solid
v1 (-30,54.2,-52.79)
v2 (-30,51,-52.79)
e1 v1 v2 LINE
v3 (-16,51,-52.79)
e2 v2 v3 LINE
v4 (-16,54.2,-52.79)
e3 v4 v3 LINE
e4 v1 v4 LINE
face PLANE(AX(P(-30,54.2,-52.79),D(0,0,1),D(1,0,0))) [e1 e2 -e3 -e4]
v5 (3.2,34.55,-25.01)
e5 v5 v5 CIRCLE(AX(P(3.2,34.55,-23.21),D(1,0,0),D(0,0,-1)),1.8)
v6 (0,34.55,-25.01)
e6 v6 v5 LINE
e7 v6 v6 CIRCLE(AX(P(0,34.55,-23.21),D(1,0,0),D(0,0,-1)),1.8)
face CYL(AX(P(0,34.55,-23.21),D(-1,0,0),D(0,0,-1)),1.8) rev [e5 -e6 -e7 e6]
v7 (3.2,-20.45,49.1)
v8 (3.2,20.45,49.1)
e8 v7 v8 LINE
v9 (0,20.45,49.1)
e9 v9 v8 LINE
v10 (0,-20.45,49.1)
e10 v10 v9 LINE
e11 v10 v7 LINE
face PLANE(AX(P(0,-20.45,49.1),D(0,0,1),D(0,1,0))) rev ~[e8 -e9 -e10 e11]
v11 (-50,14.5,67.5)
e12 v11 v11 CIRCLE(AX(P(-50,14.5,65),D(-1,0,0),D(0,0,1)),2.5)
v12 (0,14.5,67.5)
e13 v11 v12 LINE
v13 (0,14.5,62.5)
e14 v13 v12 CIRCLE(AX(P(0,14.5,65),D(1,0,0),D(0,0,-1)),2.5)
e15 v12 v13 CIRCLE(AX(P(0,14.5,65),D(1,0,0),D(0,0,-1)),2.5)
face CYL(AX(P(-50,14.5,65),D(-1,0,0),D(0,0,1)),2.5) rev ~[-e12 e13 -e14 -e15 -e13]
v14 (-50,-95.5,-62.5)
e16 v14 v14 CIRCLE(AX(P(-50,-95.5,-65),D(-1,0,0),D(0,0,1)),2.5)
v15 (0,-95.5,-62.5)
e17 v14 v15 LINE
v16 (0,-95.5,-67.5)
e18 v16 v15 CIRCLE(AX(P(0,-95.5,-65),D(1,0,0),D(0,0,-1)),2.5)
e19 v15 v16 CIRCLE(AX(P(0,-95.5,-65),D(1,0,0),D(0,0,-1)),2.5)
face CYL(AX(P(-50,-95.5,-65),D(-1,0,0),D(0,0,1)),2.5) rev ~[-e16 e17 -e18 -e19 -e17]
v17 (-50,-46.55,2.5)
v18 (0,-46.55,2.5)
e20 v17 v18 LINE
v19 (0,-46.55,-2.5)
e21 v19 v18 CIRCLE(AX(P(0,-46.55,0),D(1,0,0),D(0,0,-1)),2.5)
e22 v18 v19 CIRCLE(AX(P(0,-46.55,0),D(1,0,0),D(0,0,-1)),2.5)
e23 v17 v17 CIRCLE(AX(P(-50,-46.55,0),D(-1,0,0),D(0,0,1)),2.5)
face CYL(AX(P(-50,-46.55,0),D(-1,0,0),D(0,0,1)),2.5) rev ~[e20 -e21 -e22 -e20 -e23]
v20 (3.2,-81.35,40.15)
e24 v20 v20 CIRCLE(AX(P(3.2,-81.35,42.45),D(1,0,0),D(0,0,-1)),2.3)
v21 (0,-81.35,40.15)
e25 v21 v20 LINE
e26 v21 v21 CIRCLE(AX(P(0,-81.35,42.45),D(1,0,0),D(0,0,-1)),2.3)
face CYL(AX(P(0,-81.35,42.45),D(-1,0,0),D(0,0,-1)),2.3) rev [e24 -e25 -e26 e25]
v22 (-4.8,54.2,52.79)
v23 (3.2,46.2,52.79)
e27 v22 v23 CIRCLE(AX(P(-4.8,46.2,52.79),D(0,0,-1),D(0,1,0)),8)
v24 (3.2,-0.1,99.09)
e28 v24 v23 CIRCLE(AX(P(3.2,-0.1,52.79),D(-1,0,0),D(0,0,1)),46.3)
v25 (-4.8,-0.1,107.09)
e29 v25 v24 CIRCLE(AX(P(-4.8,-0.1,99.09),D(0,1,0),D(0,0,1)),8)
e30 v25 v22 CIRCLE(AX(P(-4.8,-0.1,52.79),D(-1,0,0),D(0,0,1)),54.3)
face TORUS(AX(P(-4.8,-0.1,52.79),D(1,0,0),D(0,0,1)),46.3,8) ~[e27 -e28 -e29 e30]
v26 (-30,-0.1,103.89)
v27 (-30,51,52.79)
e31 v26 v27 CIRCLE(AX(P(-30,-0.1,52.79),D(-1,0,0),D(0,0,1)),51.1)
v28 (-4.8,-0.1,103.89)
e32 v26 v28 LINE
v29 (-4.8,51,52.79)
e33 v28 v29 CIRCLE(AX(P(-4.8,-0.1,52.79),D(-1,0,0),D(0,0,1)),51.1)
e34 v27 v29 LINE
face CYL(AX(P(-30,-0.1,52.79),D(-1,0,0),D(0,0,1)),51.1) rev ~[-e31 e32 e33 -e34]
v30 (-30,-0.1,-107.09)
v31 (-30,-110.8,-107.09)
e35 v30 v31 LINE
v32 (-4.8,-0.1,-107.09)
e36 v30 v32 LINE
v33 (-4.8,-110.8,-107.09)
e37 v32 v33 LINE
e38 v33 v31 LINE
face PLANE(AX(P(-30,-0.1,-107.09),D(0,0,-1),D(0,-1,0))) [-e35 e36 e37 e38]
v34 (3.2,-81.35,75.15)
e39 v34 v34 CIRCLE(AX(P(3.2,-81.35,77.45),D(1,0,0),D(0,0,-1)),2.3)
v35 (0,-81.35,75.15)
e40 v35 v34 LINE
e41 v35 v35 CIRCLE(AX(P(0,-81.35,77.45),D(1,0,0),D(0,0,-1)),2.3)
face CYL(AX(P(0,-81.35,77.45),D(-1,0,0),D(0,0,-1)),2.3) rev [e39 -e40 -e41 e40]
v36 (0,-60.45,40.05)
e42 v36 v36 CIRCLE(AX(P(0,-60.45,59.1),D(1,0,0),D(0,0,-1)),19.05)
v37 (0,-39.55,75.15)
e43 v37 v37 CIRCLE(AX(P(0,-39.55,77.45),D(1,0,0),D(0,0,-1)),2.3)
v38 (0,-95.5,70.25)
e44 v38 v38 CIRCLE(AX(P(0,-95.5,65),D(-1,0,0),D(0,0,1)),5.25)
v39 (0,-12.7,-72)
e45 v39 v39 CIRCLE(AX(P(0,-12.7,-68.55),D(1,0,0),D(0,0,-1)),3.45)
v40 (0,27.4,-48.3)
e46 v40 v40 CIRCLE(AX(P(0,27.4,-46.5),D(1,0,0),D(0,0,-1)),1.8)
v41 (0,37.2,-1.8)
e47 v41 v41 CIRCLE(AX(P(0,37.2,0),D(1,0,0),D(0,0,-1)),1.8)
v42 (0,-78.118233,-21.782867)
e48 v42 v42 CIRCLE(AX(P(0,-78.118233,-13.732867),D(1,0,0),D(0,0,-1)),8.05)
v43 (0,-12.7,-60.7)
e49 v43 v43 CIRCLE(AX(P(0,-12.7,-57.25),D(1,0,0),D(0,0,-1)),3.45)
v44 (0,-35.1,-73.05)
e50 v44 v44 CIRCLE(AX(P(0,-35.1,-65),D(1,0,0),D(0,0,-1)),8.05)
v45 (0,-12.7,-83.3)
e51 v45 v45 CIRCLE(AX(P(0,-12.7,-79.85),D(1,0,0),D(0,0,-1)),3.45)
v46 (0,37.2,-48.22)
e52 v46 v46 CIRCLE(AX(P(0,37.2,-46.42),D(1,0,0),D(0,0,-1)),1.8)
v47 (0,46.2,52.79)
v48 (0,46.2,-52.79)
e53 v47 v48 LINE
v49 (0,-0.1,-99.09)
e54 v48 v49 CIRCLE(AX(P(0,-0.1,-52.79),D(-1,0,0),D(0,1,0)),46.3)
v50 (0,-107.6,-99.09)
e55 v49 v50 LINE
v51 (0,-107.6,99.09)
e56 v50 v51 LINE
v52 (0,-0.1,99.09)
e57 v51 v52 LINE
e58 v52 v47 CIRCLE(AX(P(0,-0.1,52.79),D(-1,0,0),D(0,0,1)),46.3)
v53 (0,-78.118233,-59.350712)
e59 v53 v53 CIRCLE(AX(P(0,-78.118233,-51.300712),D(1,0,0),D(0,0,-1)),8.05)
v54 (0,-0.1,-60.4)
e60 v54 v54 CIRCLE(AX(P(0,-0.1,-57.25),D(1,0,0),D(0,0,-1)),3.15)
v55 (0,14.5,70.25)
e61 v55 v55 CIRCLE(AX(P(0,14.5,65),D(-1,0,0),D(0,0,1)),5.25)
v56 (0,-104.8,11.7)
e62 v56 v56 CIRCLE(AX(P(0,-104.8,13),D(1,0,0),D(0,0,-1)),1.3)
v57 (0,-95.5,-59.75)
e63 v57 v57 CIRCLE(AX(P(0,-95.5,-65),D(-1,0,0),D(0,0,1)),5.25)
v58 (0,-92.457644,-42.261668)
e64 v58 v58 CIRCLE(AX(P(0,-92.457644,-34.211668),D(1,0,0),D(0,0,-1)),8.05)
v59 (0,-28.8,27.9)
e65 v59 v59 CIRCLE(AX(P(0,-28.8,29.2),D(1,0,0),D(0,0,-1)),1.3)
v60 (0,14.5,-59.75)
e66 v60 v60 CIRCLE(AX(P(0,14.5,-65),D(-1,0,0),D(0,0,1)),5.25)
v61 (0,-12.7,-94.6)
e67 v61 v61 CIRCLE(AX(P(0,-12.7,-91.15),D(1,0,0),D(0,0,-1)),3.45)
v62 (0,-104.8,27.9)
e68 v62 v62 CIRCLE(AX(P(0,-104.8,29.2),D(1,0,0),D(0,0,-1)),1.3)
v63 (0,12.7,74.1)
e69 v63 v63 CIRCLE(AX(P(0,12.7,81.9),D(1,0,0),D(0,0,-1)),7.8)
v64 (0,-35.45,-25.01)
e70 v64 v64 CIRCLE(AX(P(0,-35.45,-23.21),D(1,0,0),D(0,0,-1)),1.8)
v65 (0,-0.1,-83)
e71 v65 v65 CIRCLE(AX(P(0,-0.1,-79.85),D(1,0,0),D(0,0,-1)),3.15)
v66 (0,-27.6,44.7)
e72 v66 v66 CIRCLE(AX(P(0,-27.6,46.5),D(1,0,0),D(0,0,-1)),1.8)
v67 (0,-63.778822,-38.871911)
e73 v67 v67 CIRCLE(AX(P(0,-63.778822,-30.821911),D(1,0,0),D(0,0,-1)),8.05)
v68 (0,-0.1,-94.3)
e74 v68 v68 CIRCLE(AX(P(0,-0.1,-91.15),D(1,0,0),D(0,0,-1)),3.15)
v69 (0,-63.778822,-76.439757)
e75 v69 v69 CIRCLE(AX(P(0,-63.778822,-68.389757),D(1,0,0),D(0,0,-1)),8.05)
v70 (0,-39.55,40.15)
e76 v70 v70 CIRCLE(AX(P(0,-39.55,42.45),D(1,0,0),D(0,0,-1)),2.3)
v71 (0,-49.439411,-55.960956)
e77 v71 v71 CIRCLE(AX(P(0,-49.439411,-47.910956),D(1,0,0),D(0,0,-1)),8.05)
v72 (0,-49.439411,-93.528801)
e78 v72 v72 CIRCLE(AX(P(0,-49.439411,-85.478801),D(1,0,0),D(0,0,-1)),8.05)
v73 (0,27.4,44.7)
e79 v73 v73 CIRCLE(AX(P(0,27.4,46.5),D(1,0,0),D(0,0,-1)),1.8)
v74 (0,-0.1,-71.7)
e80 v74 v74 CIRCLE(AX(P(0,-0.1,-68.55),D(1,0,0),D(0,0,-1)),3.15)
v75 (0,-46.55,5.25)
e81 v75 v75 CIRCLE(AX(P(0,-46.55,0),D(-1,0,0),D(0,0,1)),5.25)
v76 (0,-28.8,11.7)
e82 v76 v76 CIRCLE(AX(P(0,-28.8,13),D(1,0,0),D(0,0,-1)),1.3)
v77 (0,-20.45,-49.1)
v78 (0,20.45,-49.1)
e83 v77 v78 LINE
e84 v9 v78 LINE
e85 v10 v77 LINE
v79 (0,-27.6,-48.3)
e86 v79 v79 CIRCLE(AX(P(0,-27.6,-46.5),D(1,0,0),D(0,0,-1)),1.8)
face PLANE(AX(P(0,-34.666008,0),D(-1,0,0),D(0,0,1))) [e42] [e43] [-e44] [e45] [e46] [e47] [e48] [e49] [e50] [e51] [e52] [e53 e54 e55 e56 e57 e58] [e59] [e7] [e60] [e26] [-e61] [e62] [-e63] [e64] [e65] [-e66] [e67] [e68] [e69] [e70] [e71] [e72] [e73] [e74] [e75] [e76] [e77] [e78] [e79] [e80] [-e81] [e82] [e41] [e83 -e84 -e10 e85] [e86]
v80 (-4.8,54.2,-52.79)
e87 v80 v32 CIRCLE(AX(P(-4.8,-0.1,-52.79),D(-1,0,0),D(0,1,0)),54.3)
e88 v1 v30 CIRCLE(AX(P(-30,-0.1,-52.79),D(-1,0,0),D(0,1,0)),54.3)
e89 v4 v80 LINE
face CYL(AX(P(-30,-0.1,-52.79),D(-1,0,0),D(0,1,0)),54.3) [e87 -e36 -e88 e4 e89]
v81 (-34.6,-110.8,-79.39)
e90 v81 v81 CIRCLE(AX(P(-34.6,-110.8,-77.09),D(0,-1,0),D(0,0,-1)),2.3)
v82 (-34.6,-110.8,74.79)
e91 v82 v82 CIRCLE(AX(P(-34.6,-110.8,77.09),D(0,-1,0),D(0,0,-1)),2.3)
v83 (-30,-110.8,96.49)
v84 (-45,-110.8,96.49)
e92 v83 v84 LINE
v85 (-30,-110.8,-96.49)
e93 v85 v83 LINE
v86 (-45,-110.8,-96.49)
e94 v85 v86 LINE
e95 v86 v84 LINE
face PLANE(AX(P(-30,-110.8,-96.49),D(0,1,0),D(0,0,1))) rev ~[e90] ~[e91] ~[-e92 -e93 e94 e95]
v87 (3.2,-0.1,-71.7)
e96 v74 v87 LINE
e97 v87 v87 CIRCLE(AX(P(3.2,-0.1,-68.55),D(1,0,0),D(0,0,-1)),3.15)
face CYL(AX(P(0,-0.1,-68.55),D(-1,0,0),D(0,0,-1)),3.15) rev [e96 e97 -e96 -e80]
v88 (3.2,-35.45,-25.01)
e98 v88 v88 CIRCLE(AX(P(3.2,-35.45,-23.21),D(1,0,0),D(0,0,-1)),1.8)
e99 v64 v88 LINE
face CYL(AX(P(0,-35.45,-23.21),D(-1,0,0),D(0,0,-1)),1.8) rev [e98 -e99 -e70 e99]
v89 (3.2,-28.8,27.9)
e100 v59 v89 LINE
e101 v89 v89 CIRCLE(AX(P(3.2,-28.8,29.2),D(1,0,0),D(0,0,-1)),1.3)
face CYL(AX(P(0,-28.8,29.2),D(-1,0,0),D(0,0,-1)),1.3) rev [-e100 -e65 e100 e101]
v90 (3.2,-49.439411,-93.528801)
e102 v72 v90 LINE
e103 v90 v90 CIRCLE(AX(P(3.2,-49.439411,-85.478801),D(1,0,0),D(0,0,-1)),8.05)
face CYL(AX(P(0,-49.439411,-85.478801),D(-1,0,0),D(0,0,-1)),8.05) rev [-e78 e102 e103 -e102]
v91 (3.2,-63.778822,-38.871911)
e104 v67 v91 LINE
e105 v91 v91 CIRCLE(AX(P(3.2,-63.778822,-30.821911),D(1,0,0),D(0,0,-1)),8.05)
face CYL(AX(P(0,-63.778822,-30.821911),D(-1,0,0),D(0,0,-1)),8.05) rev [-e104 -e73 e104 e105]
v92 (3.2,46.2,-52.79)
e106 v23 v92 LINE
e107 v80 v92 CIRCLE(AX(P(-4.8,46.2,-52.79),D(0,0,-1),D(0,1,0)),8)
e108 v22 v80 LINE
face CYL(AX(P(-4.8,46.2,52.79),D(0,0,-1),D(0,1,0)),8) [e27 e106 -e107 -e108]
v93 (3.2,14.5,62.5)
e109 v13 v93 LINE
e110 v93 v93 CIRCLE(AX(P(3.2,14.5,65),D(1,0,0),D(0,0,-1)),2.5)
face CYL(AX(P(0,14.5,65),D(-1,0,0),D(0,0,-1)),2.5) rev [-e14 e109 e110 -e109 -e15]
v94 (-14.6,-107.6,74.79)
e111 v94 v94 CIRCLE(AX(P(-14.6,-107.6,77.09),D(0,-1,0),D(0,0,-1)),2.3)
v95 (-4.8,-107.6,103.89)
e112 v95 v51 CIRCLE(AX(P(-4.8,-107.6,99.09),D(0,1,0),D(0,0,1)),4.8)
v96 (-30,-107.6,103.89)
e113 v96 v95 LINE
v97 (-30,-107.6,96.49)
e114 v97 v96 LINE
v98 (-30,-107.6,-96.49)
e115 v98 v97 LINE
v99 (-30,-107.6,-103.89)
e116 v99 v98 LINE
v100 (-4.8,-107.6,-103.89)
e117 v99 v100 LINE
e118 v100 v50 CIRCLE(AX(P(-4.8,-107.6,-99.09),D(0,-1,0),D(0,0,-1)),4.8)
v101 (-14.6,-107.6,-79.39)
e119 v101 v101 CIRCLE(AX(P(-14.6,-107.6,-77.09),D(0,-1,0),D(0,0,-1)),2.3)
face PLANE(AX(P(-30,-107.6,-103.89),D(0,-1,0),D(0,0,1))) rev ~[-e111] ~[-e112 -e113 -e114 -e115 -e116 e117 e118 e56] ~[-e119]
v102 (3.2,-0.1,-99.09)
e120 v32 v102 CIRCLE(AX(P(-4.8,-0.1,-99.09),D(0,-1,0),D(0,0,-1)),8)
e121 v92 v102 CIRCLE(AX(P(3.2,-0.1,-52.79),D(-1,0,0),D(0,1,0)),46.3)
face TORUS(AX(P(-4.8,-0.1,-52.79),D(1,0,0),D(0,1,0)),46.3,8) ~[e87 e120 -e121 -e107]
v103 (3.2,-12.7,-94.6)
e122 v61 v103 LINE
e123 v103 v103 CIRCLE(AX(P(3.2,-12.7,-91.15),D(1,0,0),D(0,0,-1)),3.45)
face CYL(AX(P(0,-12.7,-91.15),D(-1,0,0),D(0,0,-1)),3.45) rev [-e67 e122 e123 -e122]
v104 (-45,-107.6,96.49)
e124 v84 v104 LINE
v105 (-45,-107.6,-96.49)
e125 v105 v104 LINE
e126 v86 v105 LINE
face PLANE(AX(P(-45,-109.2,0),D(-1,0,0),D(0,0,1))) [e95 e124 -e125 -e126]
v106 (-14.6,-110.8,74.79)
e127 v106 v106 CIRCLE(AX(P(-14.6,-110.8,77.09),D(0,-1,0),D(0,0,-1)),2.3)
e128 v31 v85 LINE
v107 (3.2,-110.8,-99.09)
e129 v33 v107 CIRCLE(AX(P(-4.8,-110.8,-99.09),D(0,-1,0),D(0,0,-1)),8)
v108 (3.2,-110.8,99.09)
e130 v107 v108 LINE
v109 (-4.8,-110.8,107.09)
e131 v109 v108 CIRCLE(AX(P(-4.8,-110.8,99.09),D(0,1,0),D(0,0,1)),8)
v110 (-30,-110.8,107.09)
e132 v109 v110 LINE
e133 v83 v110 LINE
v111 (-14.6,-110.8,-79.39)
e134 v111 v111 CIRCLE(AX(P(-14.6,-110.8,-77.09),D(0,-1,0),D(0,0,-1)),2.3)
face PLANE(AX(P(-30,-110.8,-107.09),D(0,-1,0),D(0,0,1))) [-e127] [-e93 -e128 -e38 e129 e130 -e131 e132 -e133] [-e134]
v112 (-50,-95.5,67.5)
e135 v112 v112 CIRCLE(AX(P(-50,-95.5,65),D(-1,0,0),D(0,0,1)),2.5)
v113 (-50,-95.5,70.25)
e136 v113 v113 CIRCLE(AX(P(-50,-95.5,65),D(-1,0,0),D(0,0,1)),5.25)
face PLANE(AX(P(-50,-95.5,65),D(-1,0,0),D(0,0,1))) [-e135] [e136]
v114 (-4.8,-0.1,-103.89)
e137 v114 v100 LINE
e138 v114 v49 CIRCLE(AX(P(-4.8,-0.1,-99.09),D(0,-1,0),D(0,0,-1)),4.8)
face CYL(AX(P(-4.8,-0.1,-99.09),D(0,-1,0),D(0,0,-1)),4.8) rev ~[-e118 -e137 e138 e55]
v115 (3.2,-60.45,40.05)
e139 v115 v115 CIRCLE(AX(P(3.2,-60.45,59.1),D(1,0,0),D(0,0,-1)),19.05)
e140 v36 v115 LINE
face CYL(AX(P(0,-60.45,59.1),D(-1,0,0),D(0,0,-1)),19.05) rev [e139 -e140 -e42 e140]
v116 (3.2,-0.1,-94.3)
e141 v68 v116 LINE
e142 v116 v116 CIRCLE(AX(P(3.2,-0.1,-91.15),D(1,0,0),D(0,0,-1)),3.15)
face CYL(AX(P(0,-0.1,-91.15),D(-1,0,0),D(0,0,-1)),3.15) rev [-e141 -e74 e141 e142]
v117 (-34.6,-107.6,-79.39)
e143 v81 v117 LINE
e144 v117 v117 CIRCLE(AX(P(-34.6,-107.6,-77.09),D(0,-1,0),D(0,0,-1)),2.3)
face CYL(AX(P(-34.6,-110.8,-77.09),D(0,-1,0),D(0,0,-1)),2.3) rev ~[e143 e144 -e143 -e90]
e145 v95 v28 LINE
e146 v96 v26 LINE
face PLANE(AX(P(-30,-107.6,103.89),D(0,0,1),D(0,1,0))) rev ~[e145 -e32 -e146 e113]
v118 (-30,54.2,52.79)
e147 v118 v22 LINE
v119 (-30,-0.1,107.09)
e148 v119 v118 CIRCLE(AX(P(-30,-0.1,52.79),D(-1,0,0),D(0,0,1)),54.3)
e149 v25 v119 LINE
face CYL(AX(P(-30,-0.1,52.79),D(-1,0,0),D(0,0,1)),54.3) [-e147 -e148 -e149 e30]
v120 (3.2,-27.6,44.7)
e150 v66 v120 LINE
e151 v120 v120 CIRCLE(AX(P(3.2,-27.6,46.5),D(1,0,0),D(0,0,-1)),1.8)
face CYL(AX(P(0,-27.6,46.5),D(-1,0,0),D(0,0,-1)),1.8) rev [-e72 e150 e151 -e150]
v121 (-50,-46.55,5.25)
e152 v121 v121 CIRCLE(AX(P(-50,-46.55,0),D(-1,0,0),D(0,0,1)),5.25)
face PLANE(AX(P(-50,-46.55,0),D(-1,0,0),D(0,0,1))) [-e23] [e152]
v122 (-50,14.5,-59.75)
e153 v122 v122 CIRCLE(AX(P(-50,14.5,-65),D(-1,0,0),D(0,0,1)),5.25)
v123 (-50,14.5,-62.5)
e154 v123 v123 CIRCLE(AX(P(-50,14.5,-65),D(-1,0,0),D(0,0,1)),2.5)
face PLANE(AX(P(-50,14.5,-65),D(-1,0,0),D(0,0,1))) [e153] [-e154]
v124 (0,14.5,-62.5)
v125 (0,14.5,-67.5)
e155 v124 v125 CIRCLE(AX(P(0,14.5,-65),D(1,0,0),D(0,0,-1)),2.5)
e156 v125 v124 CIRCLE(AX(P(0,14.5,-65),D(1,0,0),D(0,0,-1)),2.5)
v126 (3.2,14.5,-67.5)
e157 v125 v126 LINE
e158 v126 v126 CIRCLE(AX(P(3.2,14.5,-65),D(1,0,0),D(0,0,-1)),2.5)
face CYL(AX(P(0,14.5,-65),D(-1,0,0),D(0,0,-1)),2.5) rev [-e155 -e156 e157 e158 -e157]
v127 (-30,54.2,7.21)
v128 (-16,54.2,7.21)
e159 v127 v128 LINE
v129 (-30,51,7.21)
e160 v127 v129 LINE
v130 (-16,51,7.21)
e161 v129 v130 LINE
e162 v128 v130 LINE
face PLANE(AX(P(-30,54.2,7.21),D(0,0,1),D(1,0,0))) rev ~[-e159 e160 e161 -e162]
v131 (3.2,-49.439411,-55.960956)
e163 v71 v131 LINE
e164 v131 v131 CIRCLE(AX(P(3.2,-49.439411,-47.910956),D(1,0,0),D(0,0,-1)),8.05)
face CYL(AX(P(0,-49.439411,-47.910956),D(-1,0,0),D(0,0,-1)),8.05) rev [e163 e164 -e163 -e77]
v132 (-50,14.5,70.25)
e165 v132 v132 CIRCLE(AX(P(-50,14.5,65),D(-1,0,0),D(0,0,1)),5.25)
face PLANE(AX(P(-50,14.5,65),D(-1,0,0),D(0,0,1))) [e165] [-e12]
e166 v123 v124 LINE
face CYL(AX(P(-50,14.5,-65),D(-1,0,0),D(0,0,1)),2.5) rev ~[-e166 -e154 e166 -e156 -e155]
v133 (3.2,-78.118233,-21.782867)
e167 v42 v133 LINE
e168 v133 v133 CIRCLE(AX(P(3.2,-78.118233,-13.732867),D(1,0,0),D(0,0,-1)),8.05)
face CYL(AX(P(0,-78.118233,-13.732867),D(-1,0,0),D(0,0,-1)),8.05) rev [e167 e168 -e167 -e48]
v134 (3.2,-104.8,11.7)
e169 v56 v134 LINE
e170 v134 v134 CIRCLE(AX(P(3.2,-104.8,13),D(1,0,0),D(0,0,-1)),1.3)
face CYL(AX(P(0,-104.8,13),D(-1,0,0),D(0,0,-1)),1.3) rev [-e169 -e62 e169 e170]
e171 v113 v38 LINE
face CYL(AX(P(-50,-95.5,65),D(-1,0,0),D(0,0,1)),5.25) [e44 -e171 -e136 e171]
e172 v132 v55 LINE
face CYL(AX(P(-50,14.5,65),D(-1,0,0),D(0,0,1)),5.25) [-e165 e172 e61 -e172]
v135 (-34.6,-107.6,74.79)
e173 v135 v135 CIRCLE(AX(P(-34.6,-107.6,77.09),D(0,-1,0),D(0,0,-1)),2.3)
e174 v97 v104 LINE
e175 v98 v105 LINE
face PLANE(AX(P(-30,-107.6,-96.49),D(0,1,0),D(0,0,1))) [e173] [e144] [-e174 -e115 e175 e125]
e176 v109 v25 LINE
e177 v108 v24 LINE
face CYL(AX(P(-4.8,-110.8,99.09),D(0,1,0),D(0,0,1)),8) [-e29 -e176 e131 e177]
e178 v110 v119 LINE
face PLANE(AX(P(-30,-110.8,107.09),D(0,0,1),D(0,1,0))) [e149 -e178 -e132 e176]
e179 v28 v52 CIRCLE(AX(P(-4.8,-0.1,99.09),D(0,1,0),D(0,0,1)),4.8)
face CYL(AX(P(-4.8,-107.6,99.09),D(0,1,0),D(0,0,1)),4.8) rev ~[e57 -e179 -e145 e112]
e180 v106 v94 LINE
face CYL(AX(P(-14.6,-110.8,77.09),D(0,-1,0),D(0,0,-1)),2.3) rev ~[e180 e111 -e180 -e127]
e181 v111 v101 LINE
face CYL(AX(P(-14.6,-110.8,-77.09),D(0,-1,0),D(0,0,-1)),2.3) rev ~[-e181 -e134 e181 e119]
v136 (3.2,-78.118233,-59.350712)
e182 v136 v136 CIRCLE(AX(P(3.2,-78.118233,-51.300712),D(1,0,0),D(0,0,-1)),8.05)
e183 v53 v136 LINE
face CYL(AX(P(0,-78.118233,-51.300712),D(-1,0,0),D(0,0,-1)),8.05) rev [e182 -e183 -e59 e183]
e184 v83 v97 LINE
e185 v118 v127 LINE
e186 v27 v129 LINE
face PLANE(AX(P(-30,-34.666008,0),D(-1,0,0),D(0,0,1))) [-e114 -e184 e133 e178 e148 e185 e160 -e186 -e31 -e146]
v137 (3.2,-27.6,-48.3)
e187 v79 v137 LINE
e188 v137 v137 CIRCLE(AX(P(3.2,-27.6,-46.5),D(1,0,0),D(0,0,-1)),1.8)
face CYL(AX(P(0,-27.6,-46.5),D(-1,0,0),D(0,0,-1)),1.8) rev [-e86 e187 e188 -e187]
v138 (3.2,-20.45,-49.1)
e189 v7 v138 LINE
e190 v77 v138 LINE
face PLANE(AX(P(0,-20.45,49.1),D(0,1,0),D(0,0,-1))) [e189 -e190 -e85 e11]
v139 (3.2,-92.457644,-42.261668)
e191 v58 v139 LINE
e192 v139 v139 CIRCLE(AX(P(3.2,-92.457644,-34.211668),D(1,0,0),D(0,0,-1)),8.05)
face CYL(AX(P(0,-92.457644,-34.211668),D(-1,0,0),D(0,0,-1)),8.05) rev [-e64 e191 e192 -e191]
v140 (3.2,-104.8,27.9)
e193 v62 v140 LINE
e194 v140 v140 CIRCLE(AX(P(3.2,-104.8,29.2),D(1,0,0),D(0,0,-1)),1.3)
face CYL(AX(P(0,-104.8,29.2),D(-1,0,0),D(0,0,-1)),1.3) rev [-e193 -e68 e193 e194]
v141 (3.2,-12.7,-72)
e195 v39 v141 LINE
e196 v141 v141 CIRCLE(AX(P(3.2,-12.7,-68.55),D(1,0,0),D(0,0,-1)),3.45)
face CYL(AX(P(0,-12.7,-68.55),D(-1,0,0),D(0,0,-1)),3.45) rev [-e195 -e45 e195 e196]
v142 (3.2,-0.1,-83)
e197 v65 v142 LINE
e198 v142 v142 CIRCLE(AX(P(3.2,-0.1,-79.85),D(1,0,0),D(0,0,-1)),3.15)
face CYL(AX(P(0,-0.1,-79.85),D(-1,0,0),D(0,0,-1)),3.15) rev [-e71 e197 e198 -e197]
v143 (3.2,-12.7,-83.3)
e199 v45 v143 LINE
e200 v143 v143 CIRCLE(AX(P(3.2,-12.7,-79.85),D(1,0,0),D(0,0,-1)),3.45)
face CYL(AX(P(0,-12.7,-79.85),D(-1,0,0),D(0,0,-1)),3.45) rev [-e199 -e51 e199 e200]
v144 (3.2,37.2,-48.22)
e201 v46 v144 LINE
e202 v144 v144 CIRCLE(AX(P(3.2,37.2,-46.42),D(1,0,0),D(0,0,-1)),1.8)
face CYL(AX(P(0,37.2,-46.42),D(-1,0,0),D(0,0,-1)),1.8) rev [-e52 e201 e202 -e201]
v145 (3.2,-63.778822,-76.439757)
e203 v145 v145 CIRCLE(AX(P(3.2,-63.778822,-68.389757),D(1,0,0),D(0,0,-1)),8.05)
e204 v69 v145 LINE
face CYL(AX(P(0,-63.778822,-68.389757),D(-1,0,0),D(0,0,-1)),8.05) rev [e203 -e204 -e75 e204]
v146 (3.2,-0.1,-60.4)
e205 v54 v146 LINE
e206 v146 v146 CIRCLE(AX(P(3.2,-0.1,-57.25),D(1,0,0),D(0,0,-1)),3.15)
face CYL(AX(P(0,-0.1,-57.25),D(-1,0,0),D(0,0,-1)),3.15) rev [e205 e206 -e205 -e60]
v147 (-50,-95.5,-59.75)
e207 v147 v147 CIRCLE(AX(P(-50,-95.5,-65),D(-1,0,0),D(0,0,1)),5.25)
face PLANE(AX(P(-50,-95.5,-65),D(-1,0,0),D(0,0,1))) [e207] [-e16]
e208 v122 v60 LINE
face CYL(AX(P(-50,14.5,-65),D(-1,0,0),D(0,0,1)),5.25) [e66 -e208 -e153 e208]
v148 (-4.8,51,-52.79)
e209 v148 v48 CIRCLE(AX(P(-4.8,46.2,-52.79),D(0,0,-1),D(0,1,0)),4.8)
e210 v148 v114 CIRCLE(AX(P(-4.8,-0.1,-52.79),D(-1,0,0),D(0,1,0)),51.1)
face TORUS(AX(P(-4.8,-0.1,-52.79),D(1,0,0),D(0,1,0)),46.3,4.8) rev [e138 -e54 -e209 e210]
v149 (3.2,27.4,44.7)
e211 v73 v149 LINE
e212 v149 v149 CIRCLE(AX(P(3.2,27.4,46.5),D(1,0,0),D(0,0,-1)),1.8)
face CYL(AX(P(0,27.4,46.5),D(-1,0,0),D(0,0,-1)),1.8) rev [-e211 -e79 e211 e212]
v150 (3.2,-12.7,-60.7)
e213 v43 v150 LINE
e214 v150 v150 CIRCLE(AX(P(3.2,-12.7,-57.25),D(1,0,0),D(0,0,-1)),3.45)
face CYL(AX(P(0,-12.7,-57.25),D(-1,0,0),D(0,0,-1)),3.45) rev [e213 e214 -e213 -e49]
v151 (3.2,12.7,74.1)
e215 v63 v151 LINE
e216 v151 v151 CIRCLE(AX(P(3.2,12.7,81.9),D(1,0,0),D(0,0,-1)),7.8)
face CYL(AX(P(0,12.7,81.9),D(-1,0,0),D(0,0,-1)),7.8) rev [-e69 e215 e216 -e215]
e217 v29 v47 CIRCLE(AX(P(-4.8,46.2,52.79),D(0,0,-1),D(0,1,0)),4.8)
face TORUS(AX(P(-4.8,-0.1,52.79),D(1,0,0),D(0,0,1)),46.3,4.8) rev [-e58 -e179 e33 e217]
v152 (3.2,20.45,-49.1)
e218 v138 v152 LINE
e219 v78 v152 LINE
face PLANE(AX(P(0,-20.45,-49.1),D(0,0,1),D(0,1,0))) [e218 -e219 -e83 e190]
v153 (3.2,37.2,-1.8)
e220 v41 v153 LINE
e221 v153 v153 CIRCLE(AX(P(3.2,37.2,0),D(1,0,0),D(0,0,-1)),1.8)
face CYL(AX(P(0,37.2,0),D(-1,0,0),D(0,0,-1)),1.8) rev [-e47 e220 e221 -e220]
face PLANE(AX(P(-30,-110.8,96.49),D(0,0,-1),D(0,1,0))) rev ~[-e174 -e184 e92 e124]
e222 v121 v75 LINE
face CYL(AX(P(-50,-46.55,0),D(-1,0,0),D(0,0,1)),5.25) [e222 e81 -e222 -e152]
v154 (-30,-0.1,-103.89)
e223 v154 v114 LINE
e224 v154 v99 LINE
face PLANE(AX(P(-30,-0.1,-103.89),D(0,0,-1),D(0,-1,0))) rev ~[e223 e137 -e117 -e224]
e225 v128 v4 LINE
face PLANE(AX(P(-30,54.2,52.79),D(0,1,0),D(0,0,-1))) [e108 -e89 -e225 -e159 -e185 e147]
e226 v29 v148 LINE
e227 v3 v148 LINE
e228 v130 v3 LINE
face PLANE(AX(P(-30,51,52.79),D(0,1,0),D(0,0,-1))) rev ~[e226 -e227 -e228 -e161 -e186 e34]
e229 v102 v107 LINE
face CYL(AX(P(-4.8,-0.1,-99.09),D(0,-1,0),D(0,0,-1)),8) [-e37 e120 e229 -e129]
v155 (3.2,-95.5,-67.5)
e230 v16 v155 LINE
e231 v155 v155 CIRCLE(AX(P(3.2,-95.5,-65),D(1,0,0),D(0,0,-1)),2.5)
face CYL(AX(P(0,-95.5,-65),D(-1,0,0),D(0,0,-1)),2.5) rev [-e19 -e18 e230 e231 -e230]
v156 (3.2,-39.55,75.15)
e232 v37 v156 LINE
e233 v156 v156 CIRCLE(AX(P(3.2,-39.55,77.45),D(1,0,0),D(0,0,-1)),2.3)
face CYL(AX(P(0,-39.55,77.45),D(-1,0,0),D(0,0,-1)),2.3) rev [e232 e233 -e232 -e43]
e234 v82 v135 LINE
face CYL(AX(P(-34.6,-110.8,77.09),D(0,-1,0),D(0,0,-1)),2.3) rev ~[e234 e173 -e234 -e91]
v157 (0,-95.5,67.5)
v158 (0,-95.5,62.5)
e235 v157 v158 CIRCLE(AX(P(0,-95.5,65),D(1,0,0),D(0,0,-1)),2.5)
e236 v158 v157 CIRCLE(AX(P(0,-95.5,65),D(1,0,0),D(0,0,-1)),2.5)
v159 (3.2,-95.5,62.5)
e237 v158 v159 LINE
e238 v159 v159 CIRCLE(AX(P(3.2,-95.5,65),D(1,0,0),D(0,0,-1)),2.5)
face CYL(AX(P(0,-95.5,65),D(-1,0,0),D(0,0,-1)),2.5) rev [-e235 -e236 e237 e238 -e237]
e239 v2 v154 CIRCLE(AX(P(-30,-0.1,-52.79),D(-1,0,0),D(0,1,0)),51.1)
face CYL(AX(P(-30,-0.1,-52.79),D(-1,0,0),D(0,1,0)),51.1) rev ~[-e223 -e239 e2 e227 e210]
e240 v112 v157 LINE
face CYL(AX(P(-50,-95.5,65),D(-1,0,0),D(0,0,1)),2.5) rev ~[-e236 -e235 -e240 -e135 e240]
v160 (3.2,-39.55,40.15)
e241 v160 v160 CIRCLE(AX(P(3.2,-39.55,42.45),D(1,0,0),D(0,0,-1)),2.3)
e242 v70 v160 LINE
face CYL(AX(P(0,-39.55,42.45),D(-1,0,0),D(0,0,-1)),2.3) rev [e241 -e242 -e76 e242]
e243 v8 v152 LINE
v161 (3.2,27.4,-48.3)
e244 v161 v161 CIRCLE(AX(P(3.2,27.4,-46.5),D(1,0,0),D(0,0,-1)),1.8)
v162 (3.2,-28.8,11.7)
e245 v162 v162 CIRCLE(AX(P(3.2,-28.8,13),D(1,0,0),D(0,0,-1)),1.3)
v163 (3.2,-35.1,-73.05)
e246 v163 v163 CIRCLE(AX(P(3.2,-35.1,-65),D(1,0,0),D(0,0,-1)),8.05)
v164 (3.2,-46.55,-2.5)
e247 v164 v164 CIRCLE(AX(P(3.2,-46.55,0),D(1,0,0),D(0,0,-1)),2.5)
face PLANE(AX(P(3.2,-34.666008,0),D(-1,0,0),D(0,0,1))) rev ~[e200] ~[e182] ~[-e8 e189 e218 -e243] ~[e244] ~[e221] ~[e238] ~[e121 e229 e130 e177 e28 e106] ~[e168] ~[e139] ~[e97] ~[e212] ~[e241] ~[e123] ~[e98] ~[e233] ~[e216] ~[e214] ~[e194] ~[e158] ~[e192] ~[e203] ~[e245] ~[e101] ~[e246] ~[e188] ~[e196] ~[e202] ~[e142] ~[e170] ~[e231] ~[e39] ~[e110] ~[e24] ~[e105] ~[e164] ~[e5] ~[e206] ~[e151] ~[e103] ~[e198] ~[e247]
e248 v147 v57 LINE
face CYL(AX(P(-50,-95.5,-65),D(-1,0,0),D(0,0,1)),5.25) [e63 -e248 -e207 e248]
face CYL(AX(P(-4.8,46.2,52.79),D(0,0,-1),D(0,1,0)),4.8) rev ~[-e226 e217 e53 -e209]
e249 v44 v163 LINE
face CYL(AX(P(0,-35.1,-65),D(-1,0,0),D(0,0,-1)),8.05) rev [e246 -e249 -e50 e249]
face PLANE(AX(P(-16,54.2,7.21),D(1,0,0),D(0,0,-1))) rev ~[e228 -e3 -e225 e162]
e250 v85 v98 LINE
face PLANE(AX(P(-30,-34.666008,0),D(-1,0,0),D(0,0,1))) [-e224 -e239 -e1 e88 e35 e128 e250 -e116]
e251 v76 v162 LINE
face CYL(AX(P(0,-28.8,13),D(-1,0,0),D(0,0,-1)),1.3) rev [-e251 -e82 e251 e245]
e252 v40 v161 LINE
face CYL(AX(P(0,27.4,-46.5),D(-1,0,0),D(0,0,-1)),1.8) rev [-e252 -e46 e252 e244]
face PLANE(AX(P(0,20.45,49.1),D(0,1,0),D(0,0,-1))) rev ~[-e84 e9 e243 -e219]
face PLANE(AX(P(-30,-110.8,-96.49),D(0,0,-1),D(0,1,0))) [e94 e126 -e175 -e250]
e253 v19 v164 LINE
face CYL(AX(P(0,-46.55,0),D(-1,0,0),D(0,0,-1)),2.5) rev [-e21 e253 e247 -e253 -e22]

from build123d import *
from build123d.topology import SkipClean

# Parameters (mm, degrees)
SKETCH1_R           = 1.8
SKETCH1_R_2         = 3.15
SKETCH1_R_3         = 8.05
SKETCH1_R_4         = 2.3
SKETCH1_R_5         = 19.05
SKETCH1_R_6         = 2.5
SKETCH1_R_7         = 7.8
SKETCH1_R_8         = 1.3
SKETCH1_R_9         = 3.45
SKETCH1_W           = 98.2
SKETCH1_H           = 40.9
BOSS_EXTRUDE1_DEPTH = 3.2
BOSS_EXTRUDE2_START = 30
BOSS_EXTRUDE2_DEPTH = 30
FILLET1_R           = 4.8
FILLET2_R           = 8
BOSS_EXTRUDE3_START = 50
SKETCH6_R           = 5.25
SKETCH6_R_2         = 2.5
BOSS_EXTRUDE3_DEPTH = 50
SKETCH12_W          = 192.98
SKETCH12_H          = 3.2
BOSS_EXTRUDE7_DEPTH = 15
SKETCH8_R           = 2.3
CUT_EXTRUDE2_DEPTH  = 10
SKETCH19_W          = 14
SKETCH19_H          = 60
CUT_EXTRUDE7_DEPTH  = 10


with BuildPart() as part:
    # Sketch1 → Boss-Extrude1 (new body)
    with BuildSketch(Plane(origin=(0, 0, 0), x_dir=(0, 0, -1), z_dir=(1, 0, 0))):
        with BuildLine():
            Line((-52.79, 54.2), (52.79, 54.2))
            ThreePointArc((52.79, 54.2), (91.185898218, 38.295898218), (107.09, -0.1))
            Line((107.09, -0.1), (107.09, -110.8))
            Line((107.09, -110.8), (-107.09, -110.8))
            Line((-107.09, -110.8), (-107.09, -0.1))
            ThreePointArc((-107.09, -0.1), (-91.185898218, 38.295898218), (-52.79, 54.2))
        make_face()
        with Locations((46.5, 27.4)):
            Circle(SKETCH1_R, mode=Mode.SUBTRACT)
        with Locations((-46.5, -27.6)):
            Circle(SKETCH1_R, mode=Mode.SUBTRACT)
        with Locations((-46.5, 27.4)):
            Circle(SKETCH1_R, mode=Mode.SUBTRACT)
        with Locations((46.5, -27.6)):
            Circle(SKETCH1_R, mode=Mode.SUBTRACT)
        with Locations((57.25, -0.1)):
            Circle(SKETCH1_R_2, mode=Mode.SUBTRACT)
        with Locations((68.55, -0.1)):
            Circle(SKETCH1_R_2, mode=Mode.SUBTRACT)
        with Locations((79.85, -0.1)):
            Circle(SKETCH1_R_2, mode=Mode.SUBTRACT)
        with Locations((91.15, -0.1)):
            Circle(SKETCH1_R_2, mode=Mode.SUBTRACT)
        with Locations((65, -35.1)):
            Circle(SKETCH1_R_3, mode=Mode.SUBTRACT)
        with Locations((85.478801107, -49.439410909)):
            Circle(SKETCH1_R_3, mode=Mode.SUBTRACT)
        with Locations((68.389756641, -63.778821818)):
            Circle(SKETCH1_R_3, mode=Mode.SUBTRACT)
        with Locations((51.300712175, -78.118232726)):
            Circle(SKETCH1_R_3, mode=Mode.SUBTRACT)
        with Locations((34.211667709, -92.457643635)):
            Circle(SKETCH1_R_3, mode=Mode.SUBTRACT)
        with Locations((47.910955534, -49.439410909)):
            Circle(SKETCH1_R_3, mode=Mode.SUBTRACT)
        with Locations((30.821911068, -63.778821818)):
            Circle(SKETCH1_R_3, mode=Mode.SUBTRACT)
        with Locations((13.732866601, -78.118232726)):
            Circle(SKETCH1_R_3, mode=Mode.SUBTRACT)
        with Locations((-77.45, -81.35)):
            Circle(SKETCH1_R_4, mode=Mode.SUBTRACT)
        with Locations((-42.45, -81.35)):
            Circle(SKETCH1_R_4, mode=Mode.SUBTRACT)
        with Locations((-42.45, -39.55)):
            Circle(SKETCH1_R_4, mode=Mode.SUBTRACT)
        with Locations((-77.45, -39.55)):
            Circle(SKETCH1_R_4, mode=Mode.SUBTRACT)
        with Locations((-59.1, -60.45)):
            Circle(SKETCH1_R_5, mode=Mode.SUBTRACT)
        with Locations((-65, -95.5)):
            Circle(SKETCH1_R_6, mode=Mode.SUBTRACT)
        with Locations((65, -95.5)):
            Circle(SKETCH1_R_6, mode=Mode.SUBTRACT)
        with Locations((65, 14.5)):
            Circle(SKETCH1_R_6, mode=Mode.SUBTRACT)
        with Locations((-65, 14.5)):
            Circle(SKETCH1_R_6, mode=Mode.SUBTRACT)
        with Locations((-81.9, 12.7)):
            Circle(SKETCH1_R_7, mode=Mode.SUBTRACT)
        with Locations((0, -46.55)):
            Circle(SKETCH1_R_6, mode=Mode.SUBTRACT)
        with Locations((46.42, 37.2)):
            Circle(SKETCH1_R, mode=Mode.SUBTRACT)
        with Locations((0, 37.2)):
            Circle(SKETCH1_R, mode=Mode.SUBTRACT)
        with Locations((23.21, 34.55)):
            Circle(SKETCH1_R, mode=Mode.SUBTRACT)
        with Locations((23.21, -35.45)):
            Circle(SKETCH1_R, mode=Mode.SUBTRACT)
        with Locations((-29.2, -28.8)):
            Circle(SKETCH1_R_8, mode=Mode.SUBTRACT)
        with Locations((-13, -28.8)):
            Circle(SKETCH1_R_8, mode=Mode.SUBTRACT)
        with Locations((-13, -104.8)):
            Circle(SKETCH1_R_8, mode=Mode.SUBTRACT)
        with Locations((-29.2, -104.8)):
            Circle(SKETCH1_R_8, mode=Mode.SUBTRACT)
        with Locations((91.15, -12.7)):
            Circle(SKETCH1_R_9, mode=Mode.SUBTRACT)
        with Locations((79.85, -12.7)):
            Circle(SKETCH1_R_9, mode=Mode.SUBTRACT)
        with Locations((68.55, -12.7)):
            Circle(SKETCH1_R_9, mode=Mode.SUBTRACT)
        with Locations((57.25, -12.7)):
            Circle(SKETCH1_R_9, mode=Mode.SUBTRACT)
        Rectangle(SKETCH1_W, SKETCH1_H, mode=Mode.SUBTRACT)
    extrude(amount=BOSS_EXTRUDE1_DEPTH)

    # Sketch3 → Boss-Extrude2 (add)
    with BuildSketch(Plane.ZY.offset(BOSS_EXTRUDE2_START)):
        with BuildLine():
            Line((-107.09, -0.1), (-107.09, -110.8))
            Line((-107.09, -110.8), (107.09, -110.8))
            Line((107.09, -110.8), (107.09, -0.1))
            ThreePointArc((107.09, -0.1), (91.185898218, 38.295898218), (52.79, 54.2))
            Line((52.79, 54.2), (-52.79, 54.2))
            ThreePointArc((-52.79, 54.2), (-91.185898218, 38.295898218), (-107.09, -0.1))
        make_face()
        with BuildLine():
            Line((-103.89, -0.1), (-103.89, -107.6))
            Line((-103.89, -107.6), (103.89, -107.6))
            Line((103.89, -107.6), (103.89, -0.1))
            ThreePointArc((103.89, -0.1), (88.923156519, 36.033156519), (52.79, 51))
            Line((52.79, 51), (-52.79, 51))
            ThreePointArc((-52.79, 51), (-88.923156519, 36.033156519), (-103.89, -0.1))
        make_face(mode=Mode.SUBTRACT)
    extrude(amount=-BOSS_EXTRUDE2_DEPTH)

    # Fillet1
    fillet1_edges = [part.edges().sort_by_distance(p)[0] for p in [
        (0, 36.033156519, -88.923156519),
        (0, -53.85, -103.89),
        (0, -53.85, 103.89),
        (0, 36.033156519, 88.923156519),
        (0, 51, 0),
    ]]
    fillet(fillet1_edges, radius=FILLET1_R)

    # Fillet2
    fillet2_edges = [part.edges().sort_by_distance(p)[0] for p in [
        (3.2, 38.295898218, 91.185898218),
        (3.2, -55.45, 107.09),
        (3.2, -55.45, -107.09),
        (3.2, 38.295898218, -91.185898218),
        (3.2, 54.2, 0),
    ]]
    fillet(fillet2_edges, radius=FILLET2_R)

    # Sketch6 → Boss-Extrude3 (add)
    # profile 1 of 5: a face of its own
    with SkipClean():  # the faces are left unmerged after this step: merging them gives an invalid solid
        with BuildSketch(Plane.ZY.offset(BOSS_EXTRUDE3_START)):
            with Locations((65, 14.5)):
                Circle(SKETCH6_R)
            with Locations((65, 14.5)):
                Circle(SKETCH6_R_2, mode=Mode.SUBTRACT)
        # profile 2 of 5: a face of its own
        with BuildSketch(Plane.ZY.offset(BOSS_EXTRUDE3_START)):
            with Locations((-65, 14.5)):
                Circle(SKETCH6_R)
            with Locations((-65, 14.5)):
                Circle(SKETCH6_R_2, mode=Mode.SUBTRACT)
        # profile 3 of 5: a face of its own
        with BuildSketch(Plane.ZY.offset(BOSS_EXTRUDE3_START)):
            with Locations((-65, -95.5)):
                Circle(SKETCH6_R)
            with Locations((-65, -95.5)):
                Circle(SKETCH6_R_2, mode=Mode.SUBTRACT)
        # profile 4 of 5: a face of its own
        with BuildSketch(Plane.ZY.offset(BOSS_EXTRUDE3_START)):
            with Locations((65, -95.5)):
                Circle(SKETCH6_R)
            with Locations((65, -95.5)):
                Circle(SKETCH6_R_2, mode=Mode.SUBTRACT)
        # profile 5 of 5: a face of its own
        with BuildSketch(Plane.ZY.offset(BOSS_EXTRUDE3_START)):
            with Locations((0, -46.55)):
                Circle(SKETCH6_R)
            with Locations((0, -46.55)):
                Circle(SKETCH6_R_2, mode=Mode.SUBTRACT)
        extrude(amount=-BOSS_EXTRUDE3_DEPTH)

    # Sketch12 → Boss-Extrude7 (add)
    with SkipClean():  # the faces are left unmerged after this step: merging them gives an invalid solid
        with BuildSketch(Plane.ZY.offset(30)):
            with Locations((0, -109.2)):
                Rectangle(SKETCH12_W, SKETCH12_H)
        extrude(amount=BOSS_EXTRUDE7_DEPTH)

    # Sketch8 → Cut-Extrude2 (cut)
    with SkipClean():  # the faces are left unmerged after this step: merging them gives an invalid solid
        with BuildSketch(Plane.XZ.offset(110.8)):
            with Locations(Location((-14.6, 77.09, 0), (0, 0, 270))):
                Circle(SKETCH8_R)
            with Locations(Location((-34.6, 77.09, 0), (0, 0, 270))):
                Circle(SKETCH8_R)
            with Locations(Location((-14.6, -77.09, 0), (0, 0, 270))):
                Circle(SKETCH8_R)
            with Locations(Location((-34.6, -77.09, 0), (0, 0, 270))):
                Circle(SKETCH8_R)
        extrude(amount=-CUT_EXTRUDE2_DEPTH, mode=Mode.SUBTRACT)

    # Sketch19 → Cut-Extrude7 (cut)
    with SkipClean():  # the faces are left unmerged after this step: merging them gives an invalid solid
        with BuildSketch(Plane(origin=(0, 54.2, 0), x_dir=(1, 0, 0), z_dir=(0, 1, 0))):
            with Locations((-23, 22.79)):
                Rectangle(SKETCH19_W, SKETCH19_H)
        extrude(amount=-CUT_EXTRUDE7_DEPTH, mode=Mode.SUBTRACT)


solid = part.part
